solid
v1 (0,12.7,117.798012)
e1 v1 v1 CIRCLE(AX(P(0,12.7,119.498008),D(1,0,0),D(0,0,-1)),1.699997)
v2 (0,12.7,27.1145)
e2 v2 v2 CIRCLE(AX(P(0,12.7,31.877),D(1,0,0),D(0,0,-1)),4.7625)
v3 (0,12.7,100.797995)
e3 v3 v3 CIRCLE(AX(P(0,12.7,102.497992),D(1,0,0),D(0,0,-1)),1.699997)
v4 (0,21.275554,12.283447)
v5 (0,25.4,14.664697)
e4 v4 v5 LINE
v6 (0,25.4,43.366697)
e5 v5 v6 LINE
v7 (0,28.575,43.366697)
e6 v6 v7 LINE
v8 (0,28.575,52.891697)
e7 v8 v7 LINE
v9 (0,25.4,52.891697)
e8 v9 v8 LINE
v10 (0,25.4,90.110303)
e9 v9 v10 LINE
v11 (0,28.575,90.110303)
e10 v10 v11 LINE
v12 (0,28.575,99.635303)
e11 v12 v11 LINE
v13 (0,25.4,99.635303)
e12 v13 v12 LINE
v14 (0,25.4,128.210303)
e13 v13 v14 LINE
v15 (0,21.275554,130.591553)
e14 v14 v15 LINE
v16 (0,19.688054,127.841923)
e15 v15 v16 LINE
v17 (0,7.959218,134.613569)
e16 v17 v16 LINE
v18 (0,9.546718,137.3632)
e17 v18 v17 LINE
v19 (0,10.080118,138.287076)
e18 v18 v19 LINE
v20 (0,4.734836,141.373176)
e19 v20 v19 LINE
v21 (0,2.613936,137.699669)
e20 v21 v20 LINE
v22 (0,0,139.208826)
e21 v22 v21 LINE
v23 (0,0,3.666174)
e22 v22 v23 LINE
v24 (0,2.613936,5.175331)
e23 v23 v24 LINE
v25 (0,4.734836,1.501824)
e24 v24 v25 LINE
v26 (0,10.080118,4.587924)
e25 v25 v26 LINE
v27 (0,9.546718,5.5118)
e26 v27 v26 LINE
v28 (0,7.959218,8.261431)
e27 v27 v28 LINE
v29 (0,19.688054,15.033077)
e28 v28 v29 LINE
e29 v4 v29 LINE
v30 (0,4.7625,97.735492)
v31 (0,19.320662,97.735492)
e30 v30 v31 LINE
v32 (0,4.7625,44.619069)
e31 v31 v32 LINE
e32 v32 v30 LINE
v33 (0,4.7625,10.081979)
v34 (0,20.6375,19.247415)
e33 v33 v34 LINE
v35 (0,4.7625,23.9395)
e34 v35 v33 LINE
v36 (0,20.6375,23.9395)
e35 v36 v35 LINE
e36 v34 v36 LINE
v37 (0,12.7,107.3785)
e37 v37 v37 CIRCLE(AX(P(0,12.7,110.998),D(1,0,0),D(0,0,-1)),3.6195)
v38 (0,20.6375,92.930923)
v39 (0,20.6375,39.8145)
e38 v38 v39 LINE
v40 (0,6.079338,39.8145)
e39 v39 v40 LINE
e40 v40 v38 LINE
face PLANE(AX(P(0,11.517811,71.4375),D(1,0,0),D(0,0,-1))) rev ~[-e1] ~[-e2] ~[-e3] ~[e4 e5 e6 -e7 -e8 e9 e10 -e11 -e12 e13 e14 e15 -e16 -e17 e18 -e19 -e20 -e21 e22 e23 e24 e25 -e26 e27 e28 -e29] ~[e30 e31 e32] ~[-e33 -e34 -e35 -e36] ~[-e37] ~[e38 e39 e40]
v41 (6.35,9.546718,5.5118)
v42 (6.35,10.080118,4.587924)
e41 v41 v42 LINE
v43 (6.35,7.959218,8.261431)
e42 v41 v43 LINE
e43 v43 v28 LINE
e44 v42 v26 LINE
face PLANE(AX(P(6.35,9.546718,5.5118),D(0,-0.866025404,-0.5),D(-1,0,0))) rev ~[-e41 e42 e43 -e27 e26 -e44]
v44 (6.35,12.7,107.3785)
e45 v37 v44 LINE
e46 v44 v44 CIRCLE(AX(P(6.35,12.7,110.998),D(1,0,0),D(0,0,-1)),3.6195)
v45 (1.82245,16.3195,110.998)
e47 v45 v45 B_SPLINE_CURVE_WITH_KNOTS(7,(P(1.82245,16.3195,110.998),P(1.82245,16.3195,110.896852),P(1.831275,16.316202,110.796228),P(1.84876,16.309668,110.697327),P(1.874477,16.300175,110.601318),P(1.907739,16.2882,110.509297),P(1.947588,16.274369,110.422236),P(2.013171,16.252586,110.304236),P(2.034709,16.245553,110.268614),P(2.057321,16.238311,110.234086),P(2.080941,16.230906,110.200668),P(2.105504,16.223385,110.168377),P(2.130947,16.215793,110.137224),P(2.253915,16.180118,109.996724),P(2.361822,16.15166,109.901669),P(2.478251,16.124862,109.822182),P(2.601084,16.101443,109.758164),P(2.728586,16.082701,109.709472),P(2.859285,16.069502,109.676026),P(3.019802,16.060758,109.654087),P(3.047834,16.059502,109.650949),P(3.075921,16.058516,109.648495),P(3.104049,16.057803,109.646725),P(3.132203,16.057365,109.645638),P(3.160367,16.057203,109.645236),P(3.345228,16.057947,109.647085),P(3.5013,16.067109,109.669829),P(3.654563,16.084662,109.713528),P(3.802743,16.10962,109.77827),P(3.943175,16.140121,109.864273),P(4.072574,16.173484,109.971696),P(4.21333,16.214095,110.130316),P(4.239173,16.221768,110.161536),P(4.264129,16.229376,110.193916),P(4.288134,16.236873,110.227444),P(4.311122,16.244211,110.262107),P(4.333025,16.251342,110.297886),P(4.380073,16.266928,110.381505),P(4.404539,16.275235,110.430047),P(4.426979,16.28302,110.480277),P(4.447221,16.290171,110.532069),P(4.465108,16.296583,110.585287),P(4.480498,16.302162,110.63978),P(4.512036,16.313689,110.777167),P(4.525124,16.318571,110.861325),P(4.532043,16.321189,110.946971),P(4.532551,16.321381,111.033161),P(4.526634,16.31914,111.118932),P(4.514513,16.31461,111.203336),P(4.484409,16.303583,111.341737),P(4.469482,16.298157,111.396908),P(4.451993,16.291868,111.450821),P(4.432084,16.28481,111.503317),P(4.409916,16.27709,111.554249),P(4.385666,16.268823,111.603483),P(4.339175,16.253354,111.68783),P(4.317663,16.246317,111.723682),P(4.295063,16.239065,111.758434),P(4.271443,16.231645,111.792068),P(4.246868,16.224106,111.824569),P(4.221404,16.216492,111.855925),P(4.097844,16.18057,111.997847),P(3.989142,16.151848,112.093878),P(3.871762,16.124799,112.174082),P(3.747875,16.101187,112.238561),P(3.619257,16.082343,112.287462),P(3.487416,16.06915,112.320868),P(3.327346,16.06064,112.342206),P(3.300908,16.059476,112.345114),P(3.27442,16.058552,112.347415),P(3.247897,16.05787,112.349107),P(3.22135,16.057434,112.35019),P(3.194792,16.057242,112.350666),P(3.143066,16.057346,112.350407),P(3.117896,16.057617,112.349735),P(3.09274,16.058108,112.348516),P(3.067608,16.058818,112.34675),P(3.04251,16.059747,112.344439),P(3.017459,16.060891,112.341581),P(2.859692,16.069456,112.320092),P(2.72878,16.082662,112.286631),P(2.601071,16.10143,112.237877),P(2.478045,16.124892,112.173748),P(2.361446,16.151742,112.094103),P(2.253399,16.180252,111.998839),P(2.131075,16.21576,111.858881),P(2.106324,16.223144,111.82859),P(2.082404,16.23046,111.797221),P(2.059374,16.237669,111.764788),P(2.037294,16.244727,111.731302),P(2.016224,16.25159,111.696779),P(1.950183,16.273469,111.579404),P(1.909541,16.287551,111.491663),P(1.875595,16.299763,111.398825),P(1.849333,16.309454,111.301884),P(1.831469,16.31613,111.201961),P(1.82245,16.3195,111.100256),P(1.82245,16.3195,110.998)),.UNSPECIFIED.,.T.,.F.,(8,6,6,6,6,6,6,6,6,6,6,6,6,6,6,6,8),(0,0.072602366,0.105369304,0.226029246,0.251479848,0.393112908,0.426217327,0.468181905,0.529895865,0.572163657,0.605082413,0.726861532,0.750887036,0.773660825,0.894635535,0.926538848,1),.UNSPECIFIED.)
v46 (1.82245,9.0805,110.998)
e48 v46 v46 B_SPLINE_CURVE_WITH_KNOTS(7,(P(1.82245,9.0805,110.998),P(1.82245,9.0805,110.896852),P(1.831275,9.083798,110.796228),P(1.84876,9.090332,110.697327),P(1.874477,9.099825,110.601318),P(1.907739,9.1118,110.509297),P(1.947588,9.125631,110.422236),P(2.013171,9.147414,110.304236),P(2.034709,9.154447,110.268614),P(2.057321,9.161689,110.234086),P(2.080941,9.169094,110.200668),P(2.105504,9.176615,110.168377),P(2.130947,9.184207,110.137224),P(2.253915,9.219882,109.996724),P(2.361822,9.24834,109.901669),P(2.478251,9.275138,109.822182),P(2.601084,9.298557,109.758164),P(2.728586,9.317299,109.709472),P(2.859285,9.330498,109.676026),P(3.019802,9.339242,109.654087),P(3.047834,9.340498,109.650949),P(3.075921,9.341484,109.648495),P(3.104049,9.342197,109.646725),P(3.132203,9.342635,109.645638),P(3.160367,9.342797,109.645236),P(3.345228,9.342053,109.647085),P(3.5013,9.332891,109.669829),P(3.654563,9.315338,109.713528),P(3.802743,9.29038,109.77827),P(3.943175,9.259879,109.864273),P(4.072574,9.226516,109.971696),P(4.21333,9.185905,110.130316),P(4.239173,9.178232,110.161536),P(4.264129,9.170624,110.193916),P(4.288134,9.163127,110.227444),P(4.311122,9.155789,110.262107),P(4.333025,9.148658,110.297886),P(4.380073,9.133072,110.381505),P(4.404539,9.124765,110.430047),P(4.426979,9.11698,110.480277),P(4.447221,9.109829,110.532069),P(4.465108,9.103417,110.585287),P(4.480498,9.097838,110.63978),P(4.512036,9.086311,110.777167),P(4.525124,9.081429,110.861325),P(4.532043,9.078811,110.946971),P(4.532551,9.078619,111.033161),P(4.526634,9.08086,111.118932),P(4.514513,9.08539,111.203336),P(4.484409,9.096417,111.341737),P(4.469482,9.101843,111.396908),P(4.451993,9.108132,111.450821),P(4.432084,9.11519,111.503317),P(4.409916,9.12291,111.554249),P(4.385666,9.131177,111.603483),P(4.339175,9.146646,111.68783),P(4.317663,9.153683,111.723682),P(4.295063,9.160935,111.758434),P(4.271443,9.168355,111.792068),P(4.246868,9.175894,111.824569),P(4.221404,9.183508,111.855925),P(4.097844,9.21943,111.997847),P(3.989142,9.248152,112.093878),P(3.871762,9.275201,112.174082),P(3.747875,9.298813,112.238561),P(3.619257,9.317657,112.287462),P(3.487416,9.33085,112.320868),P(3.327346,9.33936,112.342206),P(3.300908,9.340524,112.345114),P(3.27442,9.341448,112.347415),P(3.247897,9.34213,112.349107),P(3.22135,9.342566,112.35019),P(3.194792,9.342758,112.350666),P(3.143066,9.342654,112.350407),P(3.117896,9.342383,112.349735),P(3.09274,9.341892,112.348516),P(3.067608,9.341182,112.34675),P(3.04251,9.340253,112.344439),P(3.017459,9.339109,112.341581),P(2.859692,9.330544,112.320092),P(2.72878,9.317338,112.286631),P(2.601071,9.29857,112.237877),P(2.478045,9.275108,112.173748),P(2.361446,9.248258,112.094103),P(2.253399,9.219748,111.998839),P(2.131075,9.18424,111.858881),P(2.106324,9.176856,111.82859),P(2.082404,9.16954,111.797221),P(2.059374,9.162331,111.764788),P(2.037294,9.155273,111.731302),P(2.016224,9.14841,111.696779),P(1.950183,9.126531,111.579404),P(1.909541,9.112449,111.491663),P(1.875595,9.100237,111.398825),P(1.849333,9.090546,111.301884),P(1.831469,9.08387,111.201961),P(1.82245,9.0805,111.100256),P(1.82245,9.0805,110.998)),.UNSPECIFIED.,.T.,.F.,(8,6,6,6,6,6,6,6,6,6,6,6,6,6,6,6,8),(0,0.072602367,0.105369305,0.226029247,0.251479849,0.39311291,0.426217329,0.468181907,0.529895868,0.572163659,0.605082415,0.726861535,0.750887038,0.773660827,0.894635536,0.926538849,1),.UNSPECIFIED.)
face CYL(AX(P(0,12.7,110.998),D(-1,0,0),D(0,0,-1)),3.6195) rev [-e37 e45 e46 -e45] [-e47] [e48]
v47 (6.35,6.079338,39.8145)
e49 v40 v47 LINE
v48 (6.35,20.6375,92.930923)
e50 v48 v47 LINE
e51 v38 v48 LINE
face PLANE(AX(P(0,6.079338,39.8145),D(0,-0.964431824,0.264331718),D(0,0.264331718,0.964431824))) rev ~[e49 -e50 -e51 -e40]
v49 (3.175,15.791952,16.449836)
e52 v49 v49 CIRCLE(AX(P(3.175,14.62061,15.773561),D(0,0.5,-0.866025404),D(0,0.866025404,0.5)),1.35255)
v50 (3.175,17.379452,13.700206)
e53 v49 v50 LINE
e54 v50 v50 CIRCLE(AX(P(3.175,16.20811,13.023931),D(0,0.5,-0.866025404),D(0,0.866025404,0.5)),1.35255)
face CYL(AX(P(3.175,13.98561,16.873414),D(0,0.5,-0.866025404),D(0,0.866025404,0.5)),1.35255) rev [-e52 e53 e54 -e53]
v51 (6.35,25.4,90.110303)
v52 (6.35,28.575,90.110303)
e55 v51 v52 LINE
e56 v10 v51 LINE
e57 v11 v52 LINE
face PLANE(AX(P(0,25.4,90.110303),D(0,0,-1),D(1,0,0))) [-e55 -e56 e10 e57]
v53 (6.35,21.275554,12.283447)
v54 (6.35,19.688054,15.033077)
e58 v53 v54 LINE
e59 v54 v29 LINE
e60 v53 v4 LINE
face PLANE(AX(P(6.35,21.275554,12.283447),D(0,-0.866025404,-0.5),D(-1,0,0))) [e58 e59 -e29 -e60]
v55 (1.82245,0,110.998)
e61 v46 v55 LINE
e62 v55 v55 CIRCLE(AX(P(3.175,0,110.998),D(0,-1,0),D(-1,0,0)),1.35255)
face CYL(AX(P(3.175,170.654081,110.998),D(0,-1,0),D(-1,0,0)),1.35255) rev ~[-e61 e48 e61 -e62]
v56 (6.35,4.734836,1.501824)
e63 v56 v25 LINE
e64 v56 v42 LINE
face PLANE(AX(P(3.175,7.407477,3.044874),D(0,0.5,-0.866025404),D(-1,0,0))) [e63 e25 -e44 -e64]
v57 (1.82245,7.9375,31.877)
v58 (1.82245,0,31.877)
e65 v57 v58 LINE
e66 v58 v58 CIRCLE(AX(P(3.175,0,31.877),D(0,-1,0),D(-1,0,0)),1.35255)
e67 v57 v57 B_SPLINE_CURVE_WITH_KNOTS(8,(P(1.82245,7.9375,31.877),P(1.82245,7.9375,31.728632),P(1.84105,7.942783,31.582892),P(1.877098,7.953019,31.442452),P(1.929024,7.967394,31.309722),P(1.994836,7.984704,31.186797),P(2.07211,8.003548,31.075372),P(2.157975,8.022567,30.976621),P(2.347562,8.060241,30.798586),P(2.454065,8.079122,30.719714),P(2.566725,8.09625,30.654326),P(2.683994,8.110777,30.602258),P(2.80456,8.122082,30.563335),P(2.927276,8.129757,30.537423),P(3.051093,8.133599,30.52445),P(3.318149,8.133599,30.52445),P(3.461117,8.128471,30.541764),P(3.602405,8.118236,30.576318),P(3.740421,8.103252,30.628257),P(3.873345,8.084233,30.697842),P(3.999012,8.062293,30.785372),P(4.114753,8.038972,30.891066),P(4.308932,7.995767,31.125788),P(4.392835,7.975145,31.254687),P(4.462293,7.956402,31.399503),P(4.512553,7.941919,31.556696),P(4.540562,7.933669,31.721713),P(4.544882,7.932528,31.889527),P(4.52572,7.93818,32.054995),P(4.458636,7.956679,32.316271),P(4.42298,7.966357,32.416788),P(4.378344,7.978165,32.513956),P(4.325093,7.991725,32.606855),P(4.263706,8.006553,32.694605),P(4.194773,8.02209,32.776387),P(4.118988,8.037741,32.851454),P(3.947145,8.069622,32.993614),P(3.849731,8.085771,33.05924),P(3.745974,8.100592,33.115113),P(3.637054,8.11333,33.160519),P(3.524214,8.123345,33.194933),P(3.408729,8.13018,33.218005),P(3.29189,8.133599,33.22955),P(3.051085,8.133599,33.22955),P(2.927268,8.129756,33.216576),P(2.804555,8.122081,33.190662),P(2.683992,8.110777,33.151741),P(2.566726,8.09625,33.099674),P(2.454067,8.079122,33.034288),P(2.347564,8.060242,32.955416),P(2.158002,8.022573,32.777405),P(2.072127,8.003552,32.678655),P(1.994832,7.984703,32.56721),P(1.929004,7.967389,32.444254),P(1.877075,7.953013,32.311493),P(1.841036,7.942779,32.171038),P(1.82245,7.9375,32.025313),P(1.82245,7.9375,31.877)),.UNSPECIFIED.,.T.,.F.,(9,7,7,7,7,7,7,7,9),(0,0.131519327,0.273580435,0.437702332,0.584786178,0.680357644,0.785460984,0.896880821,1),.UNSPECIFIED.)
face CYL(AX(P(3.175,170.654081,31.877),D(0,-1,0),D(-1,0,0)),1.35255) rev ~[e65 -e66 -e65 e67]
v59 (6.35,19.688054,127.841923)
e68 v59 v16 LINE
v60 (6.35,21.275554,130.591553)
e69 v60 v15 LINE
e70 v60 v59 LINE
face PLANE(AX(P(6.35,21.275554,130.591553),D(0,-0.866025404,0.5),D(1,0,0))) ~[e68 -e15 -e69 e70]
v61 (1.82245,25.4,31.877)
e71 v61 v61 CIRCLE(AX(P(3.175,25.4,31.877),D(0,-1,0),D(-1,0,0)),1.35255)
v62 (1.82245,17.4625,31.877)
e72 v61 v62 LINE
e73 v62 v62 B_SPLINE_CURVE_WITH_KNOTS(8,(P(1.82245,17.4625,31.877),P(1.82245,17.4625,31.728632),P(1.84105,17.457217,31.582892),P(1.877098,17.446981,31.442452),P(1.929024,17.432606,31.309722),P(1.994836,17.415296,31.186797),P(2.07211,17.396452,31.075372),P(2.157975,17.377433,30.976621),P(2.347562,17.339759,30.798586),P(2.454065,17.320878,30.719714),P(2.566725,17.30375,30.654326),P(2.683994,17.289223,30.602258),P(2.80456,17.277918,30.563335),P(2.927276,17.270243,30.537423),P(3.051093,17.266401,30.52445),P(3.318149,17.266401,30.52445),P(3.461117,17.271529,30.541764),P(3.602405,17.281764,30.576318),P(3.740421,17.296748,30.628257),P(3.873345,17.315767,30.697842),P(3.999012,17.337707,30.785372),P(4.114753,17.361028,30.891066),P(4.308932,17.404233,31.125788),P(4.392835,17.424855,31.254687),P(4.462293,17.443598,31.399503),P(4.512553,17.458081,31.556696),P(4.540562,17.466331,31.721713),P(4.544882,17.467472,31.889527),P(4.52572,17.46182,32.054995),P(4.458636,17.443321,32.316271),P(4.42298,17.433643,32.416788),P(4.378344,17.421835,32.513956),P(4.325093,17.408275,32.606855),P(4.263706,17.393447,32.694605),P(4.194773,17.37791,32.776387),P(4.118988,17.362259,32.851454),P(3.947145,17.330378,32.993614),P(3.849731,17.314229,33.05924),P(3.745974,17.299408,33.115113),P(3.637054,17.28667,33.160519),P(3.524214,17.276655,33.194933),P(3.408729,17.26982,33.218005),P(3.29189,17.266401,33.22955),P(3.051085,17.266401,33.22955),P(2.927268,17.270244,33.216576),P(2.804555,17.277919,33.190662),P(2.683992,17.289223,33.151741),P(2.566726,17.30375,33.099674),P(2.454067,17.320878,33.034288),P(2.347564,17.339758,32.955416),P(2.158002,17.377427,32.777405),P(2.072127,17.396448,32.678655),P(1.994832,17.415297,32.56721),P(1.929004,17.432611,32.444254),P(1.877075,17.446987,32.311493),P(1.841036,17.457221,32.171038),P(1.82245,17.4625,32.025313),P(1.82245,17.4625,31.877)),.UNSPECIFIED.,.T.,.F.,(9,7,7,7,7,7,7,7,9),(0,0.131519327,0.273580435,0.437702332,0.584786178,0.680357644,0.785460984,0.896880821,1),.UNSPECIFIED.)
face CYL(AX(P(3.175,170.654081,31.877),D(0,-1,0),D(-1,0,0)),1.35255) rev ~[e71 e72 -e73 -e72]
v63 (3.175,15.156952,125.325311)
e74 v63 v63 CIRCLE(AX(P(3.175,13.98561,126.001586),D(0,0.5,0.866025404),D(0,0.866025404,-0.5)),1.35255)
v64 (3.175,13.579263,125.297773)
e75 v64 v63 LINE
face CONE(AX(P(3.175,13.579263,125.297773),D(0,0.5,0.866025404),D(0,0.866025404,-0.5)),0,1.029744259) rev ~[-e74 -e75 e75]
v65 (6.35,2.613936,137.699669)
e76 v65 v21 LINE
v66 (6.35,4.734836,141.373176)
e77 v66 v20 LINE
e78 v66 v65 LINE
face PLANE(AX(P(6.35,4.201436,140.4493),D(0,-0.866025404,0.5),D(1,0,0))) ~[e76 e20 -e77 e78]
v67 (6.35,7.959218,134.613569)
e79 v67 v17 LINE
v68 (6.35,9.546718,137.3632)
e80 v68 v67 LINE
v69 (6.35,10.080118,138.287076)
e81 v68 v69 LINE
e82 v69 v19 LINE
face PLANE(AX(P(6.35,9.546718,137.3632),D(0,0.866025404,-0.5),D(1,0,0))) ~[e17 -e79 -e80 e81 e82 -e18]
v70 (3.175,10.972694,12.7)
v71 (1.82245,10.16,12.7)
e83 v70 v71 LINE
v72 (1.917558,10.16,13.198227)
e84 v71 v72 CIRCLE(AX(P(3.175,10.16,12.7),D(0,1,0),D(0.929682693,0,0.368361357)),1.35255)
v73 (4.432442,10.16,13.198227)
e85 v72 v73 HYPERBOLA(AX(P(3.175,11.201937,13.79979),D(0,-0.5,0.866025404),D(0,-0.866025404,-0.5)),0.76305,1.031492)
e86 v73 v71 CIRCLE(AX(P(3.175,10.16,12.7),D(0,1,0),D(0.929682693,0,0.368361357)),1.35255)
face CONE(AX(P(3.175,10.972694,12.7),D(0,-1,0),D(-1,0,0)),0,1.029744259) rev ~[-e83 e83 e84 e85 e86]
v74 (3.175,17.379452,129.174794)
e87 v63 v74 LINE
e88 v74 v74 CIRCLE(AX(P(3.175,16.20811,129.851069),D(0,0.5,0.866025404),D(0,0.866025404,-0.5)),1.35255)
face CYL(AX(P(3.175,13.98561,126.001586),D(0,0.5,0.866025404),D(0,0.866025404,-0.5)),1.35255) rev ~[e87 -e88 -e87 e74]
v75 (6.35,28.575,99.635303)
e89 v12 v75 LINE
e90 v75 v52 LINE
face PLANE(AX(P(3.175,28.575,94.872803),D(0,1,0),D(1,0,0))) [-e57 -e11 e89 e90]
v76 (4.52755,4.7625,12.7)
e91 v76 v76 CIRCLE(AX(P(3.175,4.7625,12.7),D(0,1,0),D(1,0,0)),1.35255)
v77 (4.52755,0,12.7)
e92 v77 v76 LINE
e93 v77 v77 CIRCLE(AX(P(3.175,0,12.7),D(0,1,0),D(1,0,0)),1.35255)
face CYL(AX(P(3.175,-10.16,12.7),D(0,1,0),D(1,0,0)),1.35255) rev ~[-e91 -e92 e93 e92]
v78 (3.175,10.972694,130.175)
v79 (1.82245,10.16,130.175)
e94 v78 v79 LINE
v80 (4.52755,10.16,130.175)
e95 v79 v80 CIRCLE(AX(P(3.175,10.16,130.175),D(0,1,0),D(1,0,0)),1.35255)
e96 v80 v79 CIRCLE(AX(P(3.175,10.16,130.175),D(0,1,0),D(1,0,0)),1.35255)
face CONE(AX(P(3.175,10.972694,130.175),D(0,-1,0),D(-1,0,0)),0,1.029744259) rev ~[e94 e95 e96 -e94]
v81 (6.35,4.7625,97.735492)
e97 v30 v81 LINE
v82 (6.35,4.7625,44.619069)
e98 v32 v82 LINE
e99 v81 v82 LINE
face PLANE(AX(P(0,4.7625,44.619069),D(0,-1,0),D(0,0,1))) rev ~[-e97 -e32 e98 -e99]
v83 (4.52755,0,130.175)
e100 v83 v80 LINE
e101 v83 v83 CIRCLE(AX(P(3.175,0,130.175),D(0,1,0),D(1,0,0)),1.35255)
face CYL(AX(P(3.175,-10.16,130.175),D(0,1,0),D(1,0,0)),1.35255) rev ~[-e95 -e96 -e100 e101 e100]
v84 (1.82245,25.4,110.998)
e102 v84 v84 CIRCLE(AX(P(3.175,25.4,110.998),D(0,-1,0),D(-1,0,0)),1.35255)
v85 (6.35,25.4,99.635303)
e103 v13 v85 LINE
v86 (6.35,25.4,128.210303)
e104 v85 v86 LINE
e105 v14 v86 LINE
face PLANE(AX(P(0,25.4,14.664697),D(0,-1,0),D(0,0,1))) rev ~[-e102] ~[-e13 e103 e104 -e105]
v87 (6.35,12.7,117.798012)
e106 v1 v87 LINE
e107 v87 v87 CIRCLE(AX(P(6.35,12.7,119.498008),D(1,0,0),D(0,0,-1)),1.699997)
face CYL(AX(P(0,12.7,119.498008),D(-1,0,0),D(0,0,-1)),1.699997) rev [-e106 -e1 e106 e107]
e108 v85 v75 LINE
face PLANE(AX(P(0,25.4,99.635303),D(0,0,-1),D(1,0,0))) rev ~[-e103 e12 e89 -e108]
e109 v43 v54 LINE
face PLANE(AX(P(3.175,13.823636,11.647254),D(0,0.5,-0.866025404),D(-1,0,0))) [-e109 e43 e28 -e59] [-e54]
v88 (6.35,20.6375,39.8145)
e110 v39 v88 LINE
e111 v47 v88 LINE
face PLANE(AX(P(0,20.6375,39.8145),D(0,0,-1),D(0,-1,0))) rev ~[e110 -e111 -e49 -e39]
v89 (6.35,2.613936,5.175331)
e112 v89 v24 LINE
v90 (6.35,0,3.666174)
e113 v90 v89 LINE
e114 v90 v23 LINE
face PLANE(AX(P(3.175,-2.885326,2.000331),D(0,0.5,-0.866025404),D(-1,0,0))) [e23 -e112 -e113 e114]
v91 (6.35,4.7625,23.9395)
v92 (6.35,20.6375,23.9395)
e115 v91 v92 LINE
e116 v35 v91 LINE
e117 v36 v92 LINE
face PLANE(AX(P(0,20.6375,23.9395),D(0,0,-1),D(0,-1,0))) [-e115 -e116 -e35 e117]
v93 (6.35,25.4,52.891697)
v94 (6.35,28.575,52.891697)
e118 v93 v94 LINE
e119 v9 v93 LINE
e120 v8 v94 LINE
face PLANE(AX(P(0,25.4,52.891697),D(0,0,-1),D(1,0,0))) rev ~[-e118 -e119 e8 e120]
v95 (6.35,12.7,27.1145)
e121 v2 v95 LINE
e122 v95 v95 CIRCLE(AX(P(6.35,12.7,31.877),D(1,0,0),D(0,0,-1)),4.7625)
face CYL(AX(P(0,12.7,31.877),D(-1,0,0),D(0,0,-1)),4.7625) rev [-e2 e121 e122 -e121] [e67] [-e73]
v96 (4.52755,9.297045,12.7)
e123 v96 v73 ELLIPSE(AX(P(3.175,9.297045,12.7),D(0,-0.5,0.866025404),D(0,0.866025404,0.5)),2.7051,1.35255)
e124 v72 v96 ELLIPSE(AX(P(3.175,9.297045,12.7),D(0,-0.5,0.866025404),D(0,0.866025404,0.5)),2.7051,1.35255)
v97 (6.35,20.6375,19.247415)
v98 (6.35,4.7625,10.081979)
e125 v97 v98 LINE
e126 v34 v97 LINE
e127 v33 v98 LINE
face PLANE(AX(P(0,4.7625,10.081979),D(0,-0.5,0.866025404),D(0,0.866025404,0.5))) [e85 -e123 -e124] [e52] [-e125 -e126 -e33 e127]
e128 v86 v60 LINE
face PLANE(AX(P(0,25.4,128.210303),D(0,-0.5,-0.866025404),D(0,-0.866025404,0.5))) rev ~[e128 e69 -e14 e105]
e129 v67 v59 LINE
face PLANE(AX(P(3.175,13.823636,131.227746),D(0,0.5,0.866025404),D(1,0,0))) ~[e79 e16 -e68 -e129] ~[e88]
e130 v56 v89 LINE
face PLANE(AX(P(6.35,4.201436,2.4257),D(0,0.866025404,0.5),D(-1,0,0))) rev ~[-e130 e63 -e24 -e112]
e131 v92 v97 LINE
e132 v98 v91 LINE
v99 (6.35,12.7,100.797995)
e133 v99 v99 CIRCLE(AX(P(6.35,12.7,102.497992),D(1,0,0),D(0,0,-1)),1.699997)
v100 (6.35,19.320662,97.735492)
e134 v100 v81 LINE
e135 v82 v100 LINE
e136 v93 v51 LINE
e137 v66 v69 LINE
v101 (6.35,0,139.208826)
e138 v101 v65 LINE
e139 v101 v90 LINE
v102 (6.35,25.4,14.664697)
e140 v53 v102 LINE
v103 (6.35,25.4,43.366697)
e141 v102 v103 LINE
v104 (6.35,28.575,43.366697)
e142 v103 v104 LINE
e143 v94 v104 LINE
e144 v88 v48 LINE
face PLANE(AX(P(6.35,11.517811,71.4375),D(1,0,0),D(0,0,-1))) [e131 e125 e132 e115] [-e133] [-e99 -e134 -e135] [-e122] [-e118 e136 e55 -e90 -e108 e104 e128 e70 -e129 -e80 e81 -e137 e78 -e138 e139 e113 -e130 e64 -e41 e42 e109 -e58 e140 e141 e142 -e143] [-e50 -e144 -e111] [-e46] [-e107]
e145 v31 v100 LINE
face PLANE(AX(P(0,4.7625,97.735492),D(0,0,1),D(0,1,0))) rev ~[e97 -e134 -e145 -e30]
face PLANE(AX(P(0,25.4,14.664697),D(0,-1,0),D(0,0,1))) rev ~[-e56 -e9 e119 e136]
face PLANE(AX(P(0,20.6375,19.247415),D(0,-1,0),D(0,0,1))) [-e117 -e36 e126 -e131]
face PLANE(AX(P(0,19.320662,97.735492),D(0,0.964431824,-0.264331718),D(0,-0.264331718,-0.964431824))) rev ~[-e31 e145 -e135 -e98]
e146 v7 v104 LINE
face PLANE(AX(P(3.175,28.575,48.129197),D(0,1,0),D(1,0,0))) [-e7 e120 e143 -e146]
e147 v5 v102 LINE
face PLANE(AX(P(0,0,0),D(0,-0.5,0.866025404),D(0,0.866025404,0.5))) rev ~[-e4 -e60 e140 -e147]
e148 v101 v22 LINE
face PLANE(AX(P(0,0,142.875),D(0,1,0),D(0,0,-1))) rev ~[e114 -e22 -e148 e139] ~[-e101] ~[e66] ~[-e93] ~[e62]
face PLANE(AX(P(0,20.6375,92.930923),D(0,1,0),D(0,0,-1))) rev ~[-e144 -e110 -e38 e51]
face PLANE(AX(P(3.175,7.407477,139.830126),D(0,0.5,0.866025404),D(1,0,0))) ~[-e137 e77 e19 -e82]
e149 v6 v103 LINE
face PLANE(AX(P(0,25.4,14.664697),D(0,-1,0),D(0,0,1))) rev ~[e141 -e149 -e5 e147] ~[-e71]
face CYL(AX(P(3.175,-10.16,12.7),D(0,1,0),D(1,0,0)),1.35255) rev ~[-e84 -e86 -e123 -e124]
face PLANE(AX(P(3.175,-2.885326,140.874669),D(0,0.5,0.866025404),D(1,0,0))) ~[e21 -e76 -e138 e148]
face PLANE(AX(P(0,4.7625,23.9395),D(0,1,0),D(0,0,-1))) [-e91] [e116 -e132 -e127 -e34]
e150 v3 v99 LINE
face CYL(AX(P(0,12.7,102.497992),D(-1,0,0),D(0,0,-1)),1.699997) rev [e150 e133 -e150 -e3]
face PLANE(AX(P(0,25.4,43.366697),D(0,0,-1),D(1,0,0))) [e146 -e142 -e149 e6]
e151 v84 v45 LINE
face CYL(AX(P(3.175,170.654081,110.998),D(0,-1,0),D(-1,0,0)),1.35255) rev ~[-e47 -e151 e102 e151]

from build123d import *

# Parameters (mm, degrees)
SKETCH1_R                     = 3.6195
SKETCH1_R_2                   = 4.7625
SKETCH1_R_3                   = 1.6999966
BOSS_EXTRUDE1_DEPTH           = 6.35
SKETCH12_W                    = 6.35
SKETCH12_H                    = 6.1722
BOSS_EXTRUDE3_DEPTH           = 1.0668
CUT_EXTRUDE1_DEPTH            = 146.254081268
TAP_DRILL_FOR_6_32_TAP4_D     = 2.7051
TAP_DRILL_FOR_6_32_TAP3_D     = 2.7051
TAP_DRILL_FOR_6_32_TAP3_DEPTH = 10.16
TAP_DRILL_FOR_6_32_TAP3_TIP   = 0.81269403
SKETCH20_W                    = 6.35
SKETCH20_H                    = 13.543293675
SKETCH20_H_2                  = 12.7
CUT_EXTRUDE2_DEPTH            = 3.175
SKETCH21_W                    = 6.35
SKETCH21_H                    = 9.525
BOSS_EXTRUDE4_DEPTH           = 3.175


with BuildPart() as part:
    # Sketch1 → Boss-Extrude1 (new body)
    with BuildSketch(Plane(origin=(0, 0, 0), x_dir=(0, 0, -1), z_dir=(1, 0, 0))):
        Polygon((0, 0), (-14.664696837, 25.4), (-128.210303163, 25.4), (-142.875, 0), align=None)
        with Locations((-110.998, 12.7)):
            Circle(SKETCH1_R, mode=Mode.SUBTRACT)
        with Locations((-31.877, 12.7)):
            Circle(SKETCH1_R_2, mode=Mode.SUBTRACT)
        with Locations((-102.4979916, 12.7)):
            Circle(SKETCH1_R_3, mode=Mode.SUBTRACT)
        with Locations((-119.4980084, 12.7)):
            Circle(SKETCH1_R_3, mode=Mode.SUBTRACT)
    extrude(amount=BOSS_EXTRUDE1_DEPTH)

    # Sketch12 → Boss-Extrude3 (add)
    with BuildSketch(Plane(origin=(0, 0, 0), x_dir=(-1, 0, 0), z_dir=(0, 0.49999999999999806, -0.8660254037844398))):
        with Locations((-3.175, 7.9375)):
            Rectangle(SKETCH12_W, SKETCH12_H)
    boss_extrude3 = extrude(amount=BOSS_EXTRUDE3_DEPTH)

    # Sketch19 → Cut-Extrude1 (cut, through all)
    with BuildSketch(Plane.ZY):
        Polygon((92.930922513, 20.6375), (39.8145, 20.6375), (39.8145, 6.079337508), align=None)
        Polygon((97.7354916, 4.7625), (97.7354916, 19.320662492), (44.619069087, 4.7625), align=None)
        Polygon((23.9395, 20.6375), (23.9395, 4.7625), (10.081979076, 4.7625), (19.247414599, 20.6375), align=None)
    extrude(amount=-CUT_EXTRUDE1_DEPTH, mode=Mode.SUBTRACT)

    # Tap Drill for #6-32 Tap4 (through all)
    with Locations(Plane(origin=(0, 25.4, 0), x_dir=(1, 0, 0), z_dir=(0, 1, 0))):
        with Locations((3.175, -110.998), (3.175, -31.877)):
            Hole(TAP_DRILL_FOR_6_32_TAP4_D / 2)

    # Tap Drill for #6-32 Tap3
    with Locations(Plane(origin=(0, 0, 0), x_dir=(-1, 0, 0), z_dir=(0, -1, 0))):
        with Locations((-3.175, -130.175), (-3.175, -12.7)):
            Hole(TAP_DRILL_FOR_6_32_TAP3_D / 2, depth=TAP_DRILL_FOR_6_32_TAP3_DEPTH)
            with Locations((0, 0, -(TAP_DRILL_FOR_6_32_TAP3_DEPTH + TAP_DRILL_FOR_6_32_TAP3_TIP / 2))):  # 118° drill point
                Cone(0, TAP_DRILL_FOR_6_32_TAP3_D / 2, TAP_DRILL_FOR_6_32_TAP3_TIP, mode=Mode.SUBTRACT)

    # Sketch15 → Tap Drill for #6-32 Tap2 (revolve, cut)
    with BuildSketch(Plane(origin=(3.175, 17.795609612, 10.2743), x_dir=(0, 0.8660254037844398, 0.49999999999999806), z_dir=(1, 0, 0))):
        Polygon((0, 0), (0, 8.43269403), (1.35255, 7.62), (1.35255, 0), align=None)
    tap_drill_for_6_32_tap2 = revolve(axis=Axis((3.175, 20.970609612, 4.775038686), (0, -0.499999999999998, 0.8660254037844398)), mode=Mode.SUBTRACT)

    # Sketch20 → Cut-Extrude2 (cut)
    with BuildSketch(Plane(origin=(0, 0, 0), x_dir=(-1, 0, 0), z_dir=(0, 0.49999999999999806, -0.8660254037844398))):
        with Locations((-3.175, 17.795246838)):
            Rectangle(SKETCH20_W, SKETCH20_H)
        with Locations((-3.175, -1.4986)):
            Rectangle(SKETCH20_W, SKETCH20_H_2)
    cut_extrude2 = extrude(amount=-CUT_EXTRUDE2_DEPTH, mode=Mode.SUBTRACT)

    # Mirror1: Boss-Extrude3, Tap Drill for #6-32 Tap2, Cut-Extrude2 across plane
    add(boss_extrude3.mirror(Plane(origin=(0, 0, 71.4375), x_dir=(1, 0, 0), z_dir=(0, 0, -1))))
    add(tap_drill_for_6_32_tap2.mirror(Plane(origin=(0, 0, 71.4375), x_dir=(1, 0, 0), z_dir=(0, 0, -1))), mode=Mode.SUBTRACT)
    add(cut_extrude2.mirror(Plane(origin=(0, 0, 71.4375), x_dir=(1, 0, 0), z_dir=(0, 0, -1))), mode=Mode.SUBTRACT)

    # Sketch21 → Boss-Extrude4 (add)
    with BuildSketch(Plane(origin=(0, 25.4, 0), x_dir=(1, 0, 0), z_dir=(0, 1, 0))):
        with Locations((3.175, -48.129196837)):
            Rectangle(SKETCH21_W, SKETCH21_H)
        with Locations((3.175, -94.872803163)):
            Rectangle(SKETCH21_W, SKETCH21_H)
    extrude(amount=BOSS_EXTRUDE4_DEPTH)


solid = part.part
